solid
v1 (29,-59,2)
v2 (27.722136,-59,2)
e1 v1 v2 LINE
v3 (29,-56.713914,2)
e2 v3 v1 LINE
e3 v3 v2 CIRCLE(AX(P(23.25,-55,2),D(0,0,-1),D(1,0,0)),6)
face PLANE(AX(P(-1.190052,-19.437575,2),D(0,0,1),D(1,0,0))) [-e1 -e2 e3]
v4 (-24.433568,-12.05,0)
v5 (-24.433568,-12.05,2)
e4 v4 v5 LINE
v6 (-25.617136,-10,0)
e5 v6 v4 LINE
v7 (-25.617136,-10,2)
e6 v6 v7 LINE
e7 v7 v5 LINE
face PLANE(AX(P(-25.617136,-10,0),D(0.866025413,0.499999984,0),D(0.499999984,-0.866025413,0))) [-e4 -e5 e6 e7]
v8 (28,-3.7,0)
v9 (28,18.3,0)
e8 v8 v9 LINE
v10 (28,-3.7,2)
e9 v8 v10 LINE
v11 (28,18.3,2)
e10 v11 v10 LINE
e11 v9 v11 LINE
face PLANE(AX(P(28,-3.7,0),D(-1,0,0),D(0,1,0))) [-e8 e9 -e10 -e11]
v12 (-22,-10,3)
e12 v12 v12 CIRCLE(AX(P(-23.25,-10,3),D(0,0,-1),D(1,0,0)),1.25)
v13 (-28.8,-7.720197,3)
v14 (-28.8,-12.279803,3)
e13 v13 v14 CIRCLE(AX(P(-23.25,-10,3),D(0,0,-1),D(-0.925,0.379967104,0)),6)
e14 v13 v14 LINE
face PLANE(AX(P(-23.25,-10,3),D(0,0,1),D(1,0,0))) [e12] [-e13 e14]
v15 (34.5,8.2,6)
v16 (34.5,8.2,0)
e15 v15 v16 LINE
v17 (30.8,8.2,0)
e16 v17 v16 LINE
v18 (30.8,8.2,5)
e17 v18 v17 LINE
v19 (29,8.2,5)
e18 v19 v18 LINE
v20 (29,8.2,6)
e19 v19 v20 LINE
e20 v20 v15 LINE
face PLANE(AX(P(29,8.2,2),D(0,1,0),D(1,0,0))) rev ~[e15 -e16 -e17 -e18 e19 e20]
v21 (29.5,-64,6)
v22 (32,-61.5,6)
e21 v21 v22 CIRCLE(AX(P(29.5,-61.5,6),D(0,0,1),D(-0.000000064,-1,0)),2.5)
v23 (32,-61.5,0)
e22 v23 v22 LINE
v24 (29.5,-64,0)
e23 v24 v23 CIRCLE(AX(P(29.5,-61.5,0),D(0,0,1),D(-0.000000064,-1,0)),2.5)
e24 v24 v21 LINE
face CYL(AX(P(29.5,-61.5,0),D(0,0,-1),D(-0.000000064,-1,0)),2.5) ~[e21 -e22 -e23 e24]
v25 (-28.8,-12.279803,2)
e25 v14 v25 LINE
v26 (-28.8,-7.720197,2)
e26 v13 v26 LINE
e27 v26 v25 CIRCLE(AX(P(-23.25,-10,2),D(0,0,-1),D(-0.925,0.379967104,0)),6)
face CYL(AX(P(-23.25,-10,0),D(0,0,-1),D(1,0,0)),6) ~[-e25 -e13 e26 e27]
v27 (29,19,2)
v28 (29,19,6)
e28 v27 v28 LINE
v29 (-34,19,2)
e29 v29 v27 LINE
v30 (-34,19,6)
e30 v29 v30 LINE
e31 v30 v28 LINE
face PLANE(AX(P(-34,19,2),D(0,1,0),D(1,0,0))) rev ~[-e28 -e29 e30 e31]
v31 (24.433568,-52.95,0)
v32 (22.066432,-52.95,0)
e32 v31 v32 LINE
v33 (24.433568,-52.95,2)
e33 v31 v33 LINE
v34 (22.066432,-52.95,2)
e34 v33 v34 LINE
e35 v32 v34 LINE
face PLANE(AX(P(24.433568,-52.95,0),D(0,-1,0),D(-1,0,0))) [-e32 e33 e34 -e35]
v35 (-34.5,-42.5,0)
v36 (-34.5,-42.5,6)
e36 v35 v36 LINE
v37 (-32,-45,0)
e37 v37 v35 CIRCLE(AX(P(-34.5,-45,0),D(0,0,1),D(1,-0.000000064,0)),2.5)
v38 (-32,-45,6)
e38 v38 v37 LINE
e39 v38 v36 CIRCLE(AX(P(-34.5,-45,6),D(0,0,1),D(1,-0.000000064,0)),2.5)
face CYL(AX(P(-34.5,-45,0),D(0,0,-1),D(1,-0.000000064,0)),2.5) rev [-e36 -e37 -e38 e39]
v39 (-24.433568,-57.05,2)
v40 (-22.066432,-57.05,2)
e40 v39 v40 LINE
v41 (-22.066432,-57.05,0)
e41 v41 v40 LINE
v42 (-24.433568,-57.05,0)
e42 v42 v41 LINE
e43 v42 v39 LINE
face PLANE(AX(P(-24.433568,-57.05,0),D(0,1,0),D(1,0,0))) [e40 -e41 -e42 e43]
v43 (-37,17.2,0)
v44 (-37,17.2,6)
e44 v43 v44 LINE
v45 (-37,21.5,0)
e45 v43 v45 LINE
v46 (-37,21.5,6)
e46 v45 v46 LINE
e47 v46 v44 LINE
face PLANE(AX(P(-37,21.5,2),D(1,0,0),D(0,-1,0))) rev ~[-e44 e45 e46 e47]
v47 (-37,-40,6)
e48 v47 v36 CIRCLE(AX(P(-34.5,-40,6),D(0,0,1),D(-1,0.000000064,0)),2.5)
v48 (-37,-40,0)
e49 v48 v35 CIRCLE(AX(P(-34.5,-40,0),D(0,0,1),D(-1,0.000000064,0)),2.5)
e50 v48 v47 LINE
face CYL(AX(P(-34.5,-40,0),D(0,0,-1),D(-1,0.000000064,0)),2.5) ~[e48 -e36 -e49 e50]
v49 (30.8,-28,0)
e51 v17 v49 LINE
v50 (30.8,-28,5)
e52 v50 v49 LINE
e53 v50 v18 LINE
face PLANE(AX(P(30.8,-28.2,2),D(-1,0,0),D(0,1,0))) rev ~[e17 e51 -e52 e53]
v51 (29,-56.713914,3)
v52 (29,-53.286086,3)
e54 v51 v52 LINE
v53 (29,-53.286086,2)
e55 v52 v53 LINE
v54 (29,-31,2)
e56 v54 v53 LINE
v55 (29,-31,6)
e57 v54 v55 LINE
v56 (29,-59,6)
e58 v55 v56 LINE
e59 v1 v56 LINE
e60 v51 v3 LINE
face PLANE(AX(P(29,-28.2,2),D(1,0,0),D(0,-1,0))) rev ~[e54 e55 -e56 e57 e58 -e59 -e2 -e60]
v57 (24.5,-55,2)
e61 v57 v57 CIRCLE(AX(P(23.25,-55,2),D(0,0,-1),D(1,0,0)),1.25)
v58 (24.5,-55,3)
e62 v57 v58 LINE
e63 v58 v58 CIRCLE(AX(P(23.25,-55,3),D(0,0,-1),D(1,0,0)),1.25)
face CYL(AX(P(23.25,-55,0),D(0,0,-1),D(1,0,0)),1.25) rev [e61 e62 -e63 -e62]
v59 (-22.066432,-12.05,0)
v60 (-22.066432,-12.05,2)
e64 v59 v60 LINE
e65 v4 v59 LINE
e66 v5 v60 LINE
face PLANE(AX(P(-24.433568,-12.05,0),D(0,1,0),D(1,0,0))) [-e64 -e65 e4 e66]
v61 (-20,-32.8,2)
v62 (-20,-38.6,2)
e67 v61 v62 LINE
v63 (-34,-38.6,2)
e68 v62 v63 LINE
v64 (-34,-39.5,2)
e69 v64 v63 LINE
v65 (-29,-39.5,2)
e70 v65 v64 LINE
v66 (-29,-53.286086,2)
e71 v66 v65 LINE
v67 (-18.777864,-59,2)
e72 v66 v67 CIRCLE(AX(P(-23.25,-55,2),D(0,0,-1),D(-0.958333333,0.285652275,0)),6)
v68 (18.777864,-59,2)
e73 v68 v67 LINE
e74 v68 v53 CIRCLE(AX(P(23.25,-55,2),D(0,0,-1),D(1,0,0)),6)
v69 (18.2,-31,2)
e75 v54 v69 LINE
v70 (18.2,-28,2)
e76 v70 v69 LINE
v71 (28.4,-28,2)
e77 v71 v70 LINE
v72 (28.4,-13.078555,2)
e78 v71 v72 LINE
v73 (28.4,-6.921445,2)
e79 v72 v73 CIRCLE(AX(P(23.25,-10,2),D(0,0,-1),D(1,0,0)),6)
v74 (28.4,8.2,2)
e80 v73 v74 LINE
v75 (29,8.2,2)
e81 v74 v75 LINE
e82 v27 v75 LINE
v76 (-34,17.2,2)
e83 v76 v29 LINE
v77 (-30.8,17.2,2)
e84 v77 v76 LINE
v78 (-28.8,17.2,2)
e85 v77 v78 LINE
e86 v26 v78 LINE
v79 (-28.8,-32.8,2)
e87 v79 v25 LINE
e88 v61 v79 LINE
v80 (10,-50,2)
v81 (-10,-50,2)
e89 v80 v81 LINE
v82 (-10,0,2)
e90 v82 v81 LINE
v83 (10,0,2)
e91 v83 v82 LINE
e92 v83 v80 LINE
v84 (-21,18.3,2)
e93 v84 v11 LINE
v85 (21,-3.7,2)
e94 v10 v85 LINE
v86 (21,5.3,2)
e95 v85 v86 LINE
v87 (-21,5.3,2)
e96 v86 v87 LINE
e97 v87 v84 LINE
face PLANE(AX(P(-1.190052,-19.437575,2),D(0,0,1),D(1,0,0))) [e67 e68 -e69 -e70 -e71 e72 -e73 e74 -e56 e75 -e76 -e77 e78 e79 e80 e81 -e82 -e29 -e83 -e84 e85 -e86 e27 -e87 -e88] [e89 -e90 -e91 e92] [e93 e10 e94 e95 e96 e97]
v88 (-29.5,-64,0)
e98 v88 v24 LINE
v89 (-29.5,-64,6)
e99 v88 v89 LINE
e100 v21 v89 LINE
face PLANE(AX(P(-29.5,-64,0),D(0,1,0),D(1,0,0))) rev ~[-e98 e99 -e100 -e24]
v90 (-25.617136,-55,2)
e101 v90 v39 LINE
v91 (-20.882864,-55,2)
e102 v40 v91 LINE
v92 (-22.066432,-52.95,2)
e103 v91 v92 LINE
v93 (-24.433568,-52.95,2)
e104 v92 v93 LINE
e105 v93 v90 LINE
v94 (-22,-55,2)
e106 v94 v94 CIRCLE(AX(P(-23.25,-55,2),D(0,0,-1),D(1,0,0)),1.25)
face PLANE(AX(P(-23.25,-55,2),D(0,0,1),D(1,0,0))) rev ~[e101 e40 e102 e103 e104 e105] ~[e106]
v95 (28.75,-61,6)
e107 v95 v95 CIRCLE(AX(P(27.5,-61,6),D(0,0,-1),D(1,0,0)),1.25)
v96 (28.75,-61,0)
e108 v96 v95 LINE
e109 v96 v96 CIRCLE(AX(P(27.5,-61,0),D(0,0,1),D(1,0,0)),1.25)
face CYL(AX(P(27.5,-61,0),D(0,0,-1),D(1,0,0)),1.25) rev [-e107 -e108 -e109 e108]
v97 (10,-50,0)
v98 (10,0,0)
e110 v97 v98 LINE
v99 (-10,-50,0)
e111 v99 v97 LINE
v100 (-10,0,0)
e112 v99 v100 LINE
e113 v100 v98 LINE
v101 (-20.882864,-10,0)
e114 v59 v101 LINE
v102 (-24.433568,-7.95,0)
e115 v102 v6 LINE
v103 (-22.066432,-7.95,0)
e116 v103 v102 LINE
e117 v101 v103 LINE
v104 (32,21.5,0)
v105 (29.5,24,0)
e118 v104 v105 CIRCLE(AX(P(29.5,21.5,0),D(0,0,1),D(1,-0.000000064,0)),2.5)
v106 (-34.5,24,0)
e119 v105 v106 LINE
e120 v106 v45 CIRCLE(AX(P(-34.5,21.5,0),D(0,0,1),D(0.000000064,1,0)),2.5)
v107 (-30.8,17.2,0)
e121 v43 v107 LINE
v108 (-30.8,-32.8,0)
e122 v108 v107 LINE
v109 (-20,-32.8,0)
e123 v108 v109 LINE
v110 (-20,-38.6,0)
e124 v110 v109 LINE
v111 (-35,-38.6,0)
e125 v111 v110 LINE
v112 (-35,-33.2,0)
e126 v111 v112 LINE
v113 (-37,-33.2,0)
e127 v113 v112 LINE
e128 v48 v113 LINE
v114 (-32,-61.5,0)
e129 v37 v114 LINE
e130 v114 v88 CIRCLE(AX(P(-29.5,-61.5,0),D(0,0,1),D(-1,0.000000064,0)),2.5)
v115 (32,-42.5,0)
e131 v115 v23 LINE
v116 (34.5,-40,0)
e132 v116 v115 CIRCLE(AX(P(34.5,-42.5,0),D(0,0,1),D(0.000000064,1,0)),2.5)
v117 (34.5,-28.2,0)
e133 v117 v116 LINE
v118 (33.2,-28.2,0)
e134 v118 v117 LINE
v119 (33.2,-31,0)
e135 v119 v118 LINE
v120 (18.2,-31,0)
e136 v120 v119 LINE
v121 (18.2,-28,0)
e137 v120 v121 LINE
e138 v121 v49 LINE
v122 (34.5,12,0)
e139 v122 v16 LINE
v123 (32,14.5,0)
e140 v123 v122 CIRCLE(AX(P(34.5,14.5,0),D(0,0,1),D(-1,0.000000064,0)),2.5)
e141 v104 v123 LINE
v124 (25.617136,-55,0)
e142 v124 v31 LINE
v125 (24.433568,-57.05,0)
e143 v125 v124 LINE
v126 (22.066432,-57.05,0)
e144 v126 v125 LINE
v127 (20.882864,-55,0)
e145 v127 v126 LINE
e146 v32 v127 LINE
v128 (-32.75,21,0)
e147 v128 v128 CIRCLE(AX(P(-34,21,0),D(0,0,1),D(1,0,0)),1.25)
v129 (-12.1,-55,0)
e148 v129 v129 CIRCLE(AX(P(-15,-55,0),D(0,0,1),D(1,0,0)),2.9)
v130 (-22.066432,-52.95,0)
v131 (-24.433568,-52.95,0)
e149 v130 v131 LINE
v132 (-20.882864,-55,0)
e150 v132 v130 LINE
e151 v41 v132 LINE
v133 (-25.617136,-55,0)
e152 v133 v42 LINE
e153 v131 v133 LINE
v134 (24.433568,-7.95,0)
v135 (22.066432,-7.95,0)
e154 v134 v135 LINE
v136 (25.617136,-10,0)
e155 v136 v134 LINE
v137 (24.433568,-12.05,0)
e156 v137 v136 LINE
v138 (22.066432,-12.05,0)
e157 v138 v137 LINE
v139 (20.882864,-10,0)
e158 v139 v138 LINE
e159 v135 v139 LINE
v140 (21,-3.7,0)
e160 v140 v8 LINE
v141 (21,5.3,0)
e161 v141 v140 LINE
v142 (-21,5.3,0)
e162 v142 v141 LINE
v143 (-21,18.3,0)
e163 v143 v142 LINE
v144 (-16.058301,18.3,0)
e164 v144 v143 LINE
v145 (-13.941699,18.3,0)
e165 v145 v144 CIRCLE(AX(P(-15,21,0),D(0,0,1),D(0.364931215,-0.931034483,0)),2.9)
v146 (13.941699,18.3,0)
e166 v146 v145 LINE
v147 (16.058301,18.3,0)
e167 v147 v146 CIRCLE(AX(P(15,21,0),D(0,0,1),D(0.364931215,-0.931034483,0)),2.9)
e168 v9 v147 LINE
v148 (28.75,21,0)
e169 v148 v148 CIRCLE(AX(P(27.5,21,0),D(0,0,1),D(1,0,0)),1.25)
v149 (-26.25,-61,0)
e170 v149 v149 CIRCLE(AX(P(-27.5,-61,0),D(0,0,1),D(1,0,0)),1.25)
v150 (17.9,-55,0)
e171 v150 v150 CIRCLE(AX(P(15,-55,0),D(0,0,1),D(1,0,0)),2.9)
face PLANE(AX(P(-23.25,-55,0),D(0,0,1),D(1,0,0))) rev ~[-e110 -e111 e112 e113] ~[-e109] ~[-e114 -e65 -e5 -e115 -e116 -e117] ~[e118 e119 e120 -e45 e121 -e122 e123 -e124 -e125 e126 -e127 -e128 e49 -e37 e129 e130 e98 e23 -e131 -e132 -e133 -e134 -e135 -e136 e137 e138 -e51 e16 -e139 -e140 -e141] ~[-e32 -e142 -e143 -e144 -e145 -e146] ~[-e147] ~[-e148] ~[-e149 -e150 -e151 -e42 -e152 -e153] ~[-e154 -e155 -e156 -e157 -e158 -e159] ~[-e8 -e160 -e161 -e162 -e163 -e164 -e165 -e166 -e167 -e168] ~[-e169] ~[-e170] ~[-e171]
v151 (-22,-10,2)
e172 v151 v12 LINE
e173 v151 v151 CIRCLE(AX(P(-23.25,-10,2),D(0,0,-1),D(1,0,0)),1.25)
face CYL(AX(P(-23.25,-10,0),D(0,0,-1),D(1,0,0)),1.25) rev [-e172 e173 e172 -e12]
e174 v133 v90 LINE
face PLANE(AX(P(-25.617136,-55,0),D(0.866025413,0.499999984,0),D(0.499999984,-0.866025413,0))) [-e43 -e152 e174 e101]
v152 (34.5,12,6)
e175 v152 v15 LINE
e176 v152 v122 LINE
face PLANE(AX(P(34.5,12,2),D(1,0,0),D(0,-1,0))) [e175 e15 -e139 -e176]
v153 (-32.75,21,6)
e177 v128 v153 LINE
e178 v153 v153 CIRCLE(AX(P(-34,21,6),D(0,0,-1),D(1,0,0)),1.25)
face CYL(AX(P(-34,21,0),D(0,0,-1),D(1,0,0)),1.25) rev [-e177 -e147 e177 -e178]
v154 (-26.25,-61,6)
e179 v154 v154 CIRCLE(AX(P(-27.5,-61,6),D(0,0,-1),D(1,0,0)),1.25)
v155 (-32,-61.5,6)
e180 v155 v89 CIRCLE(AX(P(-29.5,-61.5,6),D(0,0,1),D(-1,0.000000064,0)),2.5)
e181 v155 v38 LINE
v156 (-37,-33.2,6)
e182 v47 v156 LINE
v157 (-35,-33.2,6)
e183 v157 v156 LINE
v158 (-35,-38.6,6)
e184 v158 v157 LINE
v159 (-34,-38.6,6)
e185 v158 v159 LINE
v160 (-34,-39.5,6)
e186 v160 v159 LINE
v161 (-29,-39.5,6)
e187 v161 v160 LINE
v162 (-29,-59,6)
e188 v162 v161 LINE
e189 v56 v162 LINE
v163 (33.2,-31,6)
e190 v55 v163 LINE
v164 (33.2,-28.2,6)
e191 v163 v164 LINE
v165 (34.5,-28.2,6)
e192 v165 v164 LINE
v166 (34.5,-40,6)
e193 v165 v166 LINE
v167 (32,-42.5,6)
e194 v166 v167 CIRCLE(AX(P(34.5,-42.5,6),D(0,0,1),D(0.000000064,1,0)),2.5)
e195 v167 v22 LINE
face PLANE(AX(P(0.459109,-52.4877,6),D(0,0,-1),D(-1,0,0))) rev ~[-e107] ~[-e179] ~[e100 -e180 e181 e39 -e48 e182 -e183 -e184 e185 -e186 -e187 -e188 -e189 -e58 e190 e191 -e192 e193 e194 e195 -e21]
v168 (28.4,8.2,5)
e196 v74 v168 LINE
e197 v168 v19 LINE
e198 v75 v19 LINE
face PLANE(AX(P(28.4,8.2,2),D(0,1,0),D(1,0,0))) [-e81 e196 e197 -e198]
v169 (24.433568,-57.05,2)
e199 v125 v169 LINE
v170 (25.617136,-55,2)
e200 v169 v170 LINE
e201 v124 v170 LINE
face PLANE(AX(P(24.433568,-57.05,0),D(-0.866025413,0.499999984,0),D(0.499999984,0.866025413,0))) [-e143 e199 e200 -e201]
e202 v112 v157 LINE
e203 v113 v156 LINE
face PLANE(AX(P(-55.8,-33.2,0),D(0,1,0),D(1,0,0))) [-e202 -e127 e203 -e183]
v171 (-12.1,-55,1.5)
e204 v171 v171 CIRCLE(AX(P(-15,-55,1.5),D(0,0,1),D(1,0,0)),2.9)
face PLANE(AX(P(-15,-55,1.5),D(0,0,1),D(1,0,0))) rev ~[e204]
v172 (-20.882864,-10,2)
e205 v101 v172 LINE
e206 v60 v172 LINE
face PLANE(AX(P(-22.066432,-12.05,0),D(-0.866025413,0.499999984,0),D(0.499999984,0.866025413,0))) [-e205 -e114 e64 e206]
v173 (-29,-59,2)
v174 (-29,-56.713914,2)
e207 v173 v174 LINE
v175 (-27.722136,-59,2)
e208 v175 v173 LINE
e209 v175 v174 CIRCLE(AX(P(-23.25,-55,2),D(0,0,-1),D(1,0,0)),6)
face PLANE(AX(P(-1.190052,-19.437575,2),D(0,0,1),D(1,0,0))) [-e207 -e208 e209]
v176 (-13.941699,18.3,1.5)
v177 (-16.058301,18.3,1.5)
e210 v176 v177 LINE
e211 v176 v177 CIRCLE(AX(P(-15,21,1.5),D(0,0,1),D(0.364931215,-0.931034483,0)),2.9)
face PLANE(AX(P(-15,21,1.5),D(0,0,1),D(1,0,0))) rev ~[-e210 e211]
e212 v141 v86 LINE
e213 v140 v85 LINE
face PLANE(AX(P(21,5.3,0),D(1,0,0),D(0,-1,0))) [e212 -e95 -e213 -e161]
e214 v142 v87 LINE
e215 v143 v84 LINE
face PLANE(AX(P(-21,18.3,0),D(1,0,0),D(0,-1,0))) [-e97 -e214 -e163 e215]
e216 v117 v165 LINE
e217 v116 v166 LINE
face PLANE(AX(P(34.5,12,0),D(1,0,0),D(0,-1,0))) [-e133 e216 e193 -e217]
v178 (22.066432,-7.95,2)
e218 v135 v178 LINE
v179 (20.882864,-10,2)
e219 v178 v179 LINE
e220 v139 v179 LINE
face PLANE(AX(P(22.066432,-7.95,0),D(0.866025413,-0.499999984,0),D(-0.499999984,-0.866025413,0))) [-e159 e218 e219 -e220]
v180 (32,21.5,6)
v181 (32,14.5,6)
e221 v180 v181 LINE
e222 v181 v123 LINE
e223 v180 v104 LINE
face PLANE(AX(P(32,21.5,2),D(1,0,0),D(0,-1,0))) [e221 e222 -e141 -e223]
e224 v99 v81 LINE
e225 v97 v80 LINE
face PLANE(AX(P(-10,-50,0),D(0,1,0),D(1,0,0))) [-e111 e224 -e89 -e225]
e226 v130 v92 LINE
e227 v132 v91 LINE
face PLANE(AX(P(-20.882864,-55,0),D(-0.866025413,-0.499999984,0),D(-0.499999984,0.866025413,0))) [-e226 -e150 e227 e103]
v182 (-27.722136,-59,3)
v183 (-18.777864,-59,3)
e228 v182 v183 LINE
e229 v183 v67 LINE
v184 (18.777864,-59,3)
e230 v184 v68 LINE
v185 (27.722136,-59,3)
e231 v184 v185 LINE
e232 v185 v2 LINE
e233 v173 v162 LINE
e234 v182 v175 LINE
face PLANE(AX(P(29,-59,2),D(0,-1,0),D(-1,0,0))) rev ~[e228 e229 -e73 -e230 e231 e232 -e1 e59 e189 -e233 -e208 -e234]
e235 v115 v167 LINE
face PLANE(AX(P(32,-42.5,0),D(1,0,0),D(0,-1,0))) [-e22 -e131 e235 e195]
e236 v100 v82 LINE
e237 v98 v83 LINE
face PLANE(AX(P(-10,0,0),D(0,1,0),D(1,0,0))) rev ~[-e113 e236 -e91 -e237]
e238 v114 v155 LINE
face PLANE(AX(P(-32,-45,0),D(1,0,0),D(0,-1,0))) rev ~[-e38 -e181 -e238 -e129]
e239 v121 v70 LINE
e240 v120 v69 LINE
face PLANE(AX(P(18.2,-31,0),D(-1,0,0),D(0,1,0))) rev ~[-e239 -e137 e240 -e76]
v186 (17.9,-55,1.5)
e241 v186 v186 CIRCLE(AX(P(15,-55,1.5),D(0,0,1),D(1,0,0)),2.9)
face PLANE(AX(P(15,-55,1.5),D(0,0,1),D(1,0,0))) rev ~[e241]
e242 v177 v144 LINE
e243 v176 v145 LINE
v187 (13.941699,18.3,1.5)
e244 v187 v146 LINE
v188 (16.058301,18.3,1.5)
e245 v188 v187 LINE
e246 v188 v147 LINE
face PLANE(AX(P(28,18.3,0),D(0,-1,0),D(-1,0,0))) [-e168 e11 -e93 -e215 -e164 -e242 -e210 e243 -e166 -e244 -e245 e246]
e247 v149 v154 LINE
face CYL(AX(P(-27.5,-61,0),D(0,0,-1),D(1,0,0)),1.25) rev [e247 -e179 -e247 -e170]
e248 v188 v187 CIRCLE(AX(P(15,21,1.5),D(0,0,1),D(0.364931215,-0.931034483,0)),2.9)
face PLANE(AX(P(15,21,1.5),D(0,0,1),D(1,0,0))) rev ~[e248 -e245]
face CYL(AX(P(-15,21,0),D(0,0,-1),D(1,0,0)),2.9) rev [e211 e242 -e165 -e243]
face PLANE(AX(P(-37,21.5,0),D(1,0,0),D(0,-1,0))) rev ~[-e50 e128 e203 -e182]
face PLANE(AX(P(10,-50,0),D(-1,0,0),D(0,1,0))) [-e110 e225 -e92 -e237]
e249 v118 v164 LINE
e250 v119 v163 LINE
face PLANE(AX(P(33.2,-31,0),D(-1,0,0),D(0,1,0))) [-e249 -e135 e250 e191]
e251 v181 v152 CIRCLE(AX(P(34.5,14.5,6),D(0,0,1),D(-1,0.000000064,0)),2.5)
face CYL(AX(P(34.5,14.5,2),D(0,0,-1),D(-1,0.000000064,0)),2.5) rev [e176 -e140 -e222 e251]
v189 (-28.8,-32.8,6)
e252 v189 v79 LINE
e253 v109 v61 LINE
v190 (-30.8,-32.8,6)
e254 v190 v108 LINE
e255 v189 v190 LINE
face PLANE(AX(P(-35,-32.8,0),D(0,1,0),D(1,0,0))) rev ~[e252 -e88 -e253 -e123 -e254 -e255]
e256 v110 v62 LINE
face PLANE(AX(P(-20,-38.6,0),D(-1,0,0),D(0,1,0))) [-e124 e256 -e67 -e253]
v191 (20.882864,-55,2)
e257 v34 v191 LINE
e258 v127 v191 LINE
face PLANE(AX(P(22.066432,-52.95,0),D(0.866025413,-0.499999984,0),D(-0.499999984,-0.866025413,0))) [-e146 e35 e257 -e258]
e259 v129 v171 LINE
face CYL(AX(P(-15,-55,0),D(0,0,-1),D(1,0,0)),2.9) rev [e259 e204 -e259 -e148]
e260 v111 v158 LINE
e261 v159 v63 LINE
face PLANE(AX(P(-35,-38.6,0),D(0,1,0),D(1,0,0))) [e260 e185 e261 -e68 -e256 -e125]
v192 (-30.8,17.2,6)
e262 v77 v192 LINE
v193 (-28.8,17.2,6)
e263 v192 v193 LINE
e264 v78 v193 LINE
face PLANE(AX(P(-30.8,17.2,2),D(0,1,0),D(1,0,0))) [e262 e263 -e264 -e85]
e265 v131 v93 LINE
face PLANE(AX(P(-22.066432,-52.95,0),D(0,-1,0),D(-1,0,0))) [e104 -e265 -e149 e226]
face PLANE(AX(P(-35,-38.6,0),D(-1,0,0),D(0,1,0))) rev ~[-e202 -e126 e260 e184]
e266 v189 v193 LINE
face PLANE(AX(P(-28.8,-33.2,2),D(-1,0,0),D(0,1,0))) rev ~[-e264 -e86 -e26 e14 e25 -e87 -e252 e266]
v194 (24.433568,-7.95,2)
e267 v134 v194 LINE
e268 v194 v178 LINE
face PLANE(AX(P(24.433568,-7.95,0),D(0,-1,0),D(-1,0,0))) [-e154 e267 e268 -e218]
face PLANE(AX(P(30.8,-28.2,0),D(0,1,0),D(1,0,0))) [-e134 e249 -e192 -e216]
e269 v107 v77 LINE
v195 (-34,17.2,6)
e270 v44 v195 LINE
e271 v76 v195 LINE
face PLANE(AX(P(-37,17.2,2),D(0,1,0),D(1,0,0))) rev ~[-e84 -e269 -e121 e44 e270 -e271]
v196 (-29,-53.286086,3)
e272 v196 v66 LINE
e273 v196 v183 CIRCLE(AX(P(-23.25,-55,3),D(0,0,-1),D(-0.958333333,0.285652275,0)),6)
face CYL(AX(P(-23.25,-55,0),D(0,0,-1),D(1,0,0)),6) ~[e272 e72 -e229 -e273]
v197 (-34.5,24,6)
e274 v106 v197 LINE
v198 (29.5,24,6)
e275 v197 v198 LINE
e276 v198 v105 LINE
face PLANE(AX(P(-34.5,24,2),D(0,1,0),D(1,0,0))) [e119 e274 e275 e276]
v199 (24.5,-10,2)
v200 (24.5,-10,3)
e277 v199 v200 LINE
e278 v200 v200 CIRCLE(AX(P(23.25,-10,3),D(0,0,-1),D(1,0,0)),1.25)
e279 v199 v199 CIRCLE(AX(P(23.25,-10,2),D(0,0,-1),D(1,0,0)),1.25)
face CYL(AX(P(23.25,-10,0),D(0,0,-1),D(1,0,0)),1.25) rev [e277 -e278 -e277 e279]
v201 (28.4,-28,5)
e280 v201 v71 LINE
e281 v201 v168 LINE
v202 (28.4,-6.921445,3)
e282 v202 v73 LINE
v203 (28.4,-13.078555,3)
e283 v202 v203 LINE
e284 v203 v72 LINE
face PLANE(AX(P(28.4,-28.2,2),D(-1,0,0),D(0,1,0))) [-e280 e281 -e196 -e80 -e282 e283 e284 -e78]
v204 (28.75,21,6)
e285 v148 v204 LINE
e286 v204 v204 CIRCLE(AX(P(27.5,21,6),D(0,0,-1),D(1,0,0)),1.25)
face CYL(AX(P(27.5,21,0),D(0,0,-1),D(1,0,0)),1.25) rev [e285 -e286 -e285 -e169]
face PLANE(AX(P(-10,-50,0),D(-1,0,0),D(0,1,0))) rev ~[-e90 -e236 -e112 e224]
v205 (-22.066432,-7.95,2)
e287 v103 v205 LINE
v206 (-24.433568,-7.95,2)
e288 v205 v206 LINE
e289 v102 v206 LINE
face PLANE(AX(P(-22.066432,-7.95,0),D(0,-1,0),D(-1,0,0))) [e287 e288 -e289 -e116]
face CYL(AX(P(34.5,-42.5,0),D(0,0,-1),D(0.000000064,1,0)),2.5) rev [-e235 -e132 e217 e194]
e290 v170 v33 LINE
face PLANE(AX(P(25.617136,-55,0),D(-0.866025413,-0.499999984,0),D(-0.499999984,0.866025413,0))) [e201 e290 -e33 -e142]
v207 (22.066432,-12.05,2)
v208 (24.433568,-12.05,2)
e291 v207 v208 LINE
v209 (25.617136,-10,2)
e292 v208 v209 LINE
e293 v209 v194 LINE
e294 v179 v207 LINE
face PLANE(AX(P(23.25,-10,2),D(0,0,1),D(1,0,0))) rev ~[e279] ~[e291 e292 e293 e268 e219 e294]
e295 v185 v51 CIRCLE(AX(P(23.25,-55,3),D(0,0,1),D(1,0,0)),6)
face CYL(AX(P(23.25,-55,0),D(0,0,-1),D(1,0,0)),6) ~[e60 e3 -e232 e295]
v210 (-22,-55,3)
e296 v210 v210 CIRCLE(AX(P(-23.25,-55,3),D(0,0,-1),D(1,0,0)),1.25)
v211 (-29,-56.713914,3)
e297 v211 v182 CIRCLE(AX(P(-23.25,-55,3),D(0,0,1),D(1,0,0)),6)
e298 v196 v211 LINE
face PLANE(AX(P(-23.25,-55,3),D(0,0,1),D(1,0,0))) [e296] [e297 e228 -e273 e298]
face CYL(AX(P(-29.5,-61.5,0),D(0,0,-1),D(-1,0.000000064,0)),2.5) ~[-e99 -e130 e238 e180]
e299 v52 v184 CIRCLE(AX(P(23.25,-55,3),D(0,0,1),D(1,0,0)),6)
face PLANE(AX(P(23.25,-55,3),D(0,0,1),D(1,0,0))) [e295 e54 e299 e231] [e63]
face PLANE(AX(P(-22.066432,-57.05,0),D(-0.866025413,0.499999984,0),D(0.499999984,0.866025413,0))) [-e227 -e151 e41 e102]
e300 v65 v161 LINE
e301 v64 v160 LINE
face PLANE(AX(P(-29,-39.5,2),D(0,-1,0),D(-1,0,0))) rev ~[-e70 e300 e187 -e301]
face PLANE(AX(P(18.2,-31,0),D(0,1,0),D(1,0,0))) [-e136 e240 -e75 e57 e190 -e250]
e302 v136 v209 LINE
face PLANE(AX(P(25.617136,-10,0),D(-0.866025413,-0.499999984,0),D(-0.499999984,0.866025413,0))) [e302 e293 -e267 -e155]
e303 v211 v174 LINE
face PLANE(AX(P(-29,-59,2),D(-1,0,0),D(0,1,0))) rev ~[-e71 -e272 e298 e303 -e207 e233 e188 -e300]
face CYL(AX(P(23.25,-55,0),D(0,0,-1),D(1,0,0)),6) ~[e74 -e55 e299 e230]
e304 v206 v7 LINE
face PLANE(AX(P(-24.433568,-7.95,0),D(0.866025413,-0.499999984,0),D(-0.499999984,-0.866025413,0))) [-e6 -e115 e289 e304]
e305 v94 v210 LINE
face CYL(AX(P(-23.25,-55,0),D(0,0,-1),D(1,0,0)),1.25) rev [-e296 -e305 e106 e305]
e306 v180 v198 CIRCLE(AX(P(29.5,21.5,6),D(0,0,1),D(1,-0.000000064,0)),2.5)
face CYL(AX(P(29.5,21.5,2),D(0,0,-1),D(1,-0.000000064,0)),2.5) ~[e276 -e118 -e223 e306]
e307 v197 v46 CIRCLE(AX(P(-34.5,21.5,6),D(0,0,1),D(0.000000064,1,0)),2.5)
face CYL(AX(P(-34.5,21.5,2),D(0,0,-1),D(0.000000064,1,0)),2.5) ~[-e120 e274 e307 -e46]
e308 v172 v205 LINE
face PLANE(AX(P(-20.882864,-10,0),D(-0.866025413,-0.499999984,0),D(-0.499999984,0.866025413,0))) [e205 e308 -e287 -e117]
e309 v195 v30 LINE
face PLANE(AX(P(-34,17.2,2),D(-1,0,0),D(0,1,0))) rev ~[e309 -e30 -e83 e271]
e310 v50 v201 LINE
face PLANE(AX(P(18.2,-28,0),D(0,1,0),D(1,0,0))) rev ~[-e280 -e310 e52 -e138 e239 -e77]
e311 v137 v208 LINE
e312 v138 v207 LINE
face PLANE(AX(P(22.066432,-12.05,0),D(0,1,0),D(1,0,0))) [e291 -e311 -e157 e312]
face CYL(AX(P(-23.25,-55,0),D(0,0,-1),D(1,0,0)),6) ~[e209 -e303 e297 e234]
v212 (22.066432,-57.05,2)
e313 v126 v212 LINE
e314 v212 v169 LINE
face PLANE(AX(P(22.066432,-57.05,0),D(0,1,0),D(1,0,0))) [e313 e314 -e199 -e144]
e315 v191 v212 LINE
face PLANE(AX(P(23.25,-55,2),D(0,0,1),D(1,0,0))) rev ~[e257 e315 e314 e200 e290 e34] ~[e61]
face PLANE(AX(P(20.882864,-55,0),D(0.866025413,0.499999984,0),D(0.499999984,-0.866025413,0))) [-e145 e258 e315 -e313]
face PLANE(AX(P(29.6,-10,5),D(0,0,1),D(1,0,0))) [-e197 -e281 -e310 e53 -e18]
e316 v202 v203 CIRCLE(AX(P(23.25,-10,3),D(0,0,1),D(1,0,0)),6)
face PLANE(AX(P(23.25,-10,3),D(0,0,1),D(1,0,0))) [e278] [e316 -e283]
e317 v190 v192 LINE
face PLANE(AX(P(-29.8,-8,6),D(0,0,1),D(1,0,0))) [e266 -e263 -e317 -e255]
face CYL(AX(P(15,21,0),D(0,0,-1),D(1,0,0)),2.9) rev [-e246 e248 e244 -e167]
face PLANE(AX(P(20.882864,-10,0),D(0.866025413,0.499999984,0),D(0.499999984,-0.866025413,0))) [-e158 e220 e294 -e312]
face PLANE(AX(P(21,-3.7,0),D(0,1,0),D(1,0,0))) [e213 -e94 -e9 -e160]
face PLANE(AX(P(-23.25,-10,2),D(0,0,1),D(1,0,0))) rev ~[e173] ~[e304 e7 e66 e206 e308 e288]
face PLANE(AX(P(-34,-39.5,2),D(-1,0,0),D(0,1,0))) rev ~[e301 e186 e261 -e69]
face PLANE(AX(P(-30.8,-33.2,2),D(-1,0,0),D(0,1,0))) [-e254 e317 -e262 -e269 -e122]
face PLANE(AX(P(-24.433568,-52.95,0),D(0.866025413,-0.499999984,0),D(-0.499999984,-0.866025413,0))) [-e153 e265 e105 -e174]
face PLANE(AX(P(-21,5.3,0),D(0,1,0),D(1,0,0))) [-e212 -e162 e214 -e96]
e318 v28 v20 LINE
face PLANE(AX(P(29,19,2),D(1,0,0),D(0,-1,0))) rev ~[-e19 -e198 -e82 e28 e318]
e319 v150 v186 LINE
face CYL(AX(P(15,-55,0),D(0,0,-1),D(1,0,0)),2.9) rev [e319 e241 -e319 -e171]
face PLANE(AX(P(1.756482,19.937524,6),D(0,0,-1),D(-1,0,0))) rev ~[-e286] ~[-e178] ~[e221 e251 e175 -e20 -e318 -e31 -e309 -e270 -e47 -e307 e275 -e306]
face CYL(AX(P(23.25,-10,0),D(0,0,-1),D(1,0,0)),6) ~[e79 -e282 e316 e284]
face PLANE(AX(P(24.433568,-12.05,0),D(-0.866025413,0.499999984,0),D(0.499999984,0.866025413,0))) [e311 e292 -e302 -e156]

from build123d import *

# Parameters (mm, degrees)
PAD_DEPTH            = 2
SKETCH002_R          = 6
PAD002_DEPTH         = 3
POCKET_DEPTH         = 3.001
SKETCH005_R          = 1.25
POCKET001_DEPTH      = 0.001
POCKET001_DEPTH_BACK = 3.001
POCKET002_DEPTH      = 2
SKETCH012_W          = 25
SKETCH012_H          = 50.4
SKETCH012_H_2        = 36.4
POCKET006_DEPTH      = 0.001
POCKET006_DEPTH_BACK = 3.001
SKETCH014_W          = 2
SKETCH014_H          = 50.4
PAD006_DEPTH         = 4
SKETCH015_W          = 2.4
SKETCH015_H          = 36.4
PAD007_DEPTH         = 3
SKETCH018_R          = 2.9
POCKET008_DEPTH      = 1.5
PAD010_DEPTH         = 4
SKETCH024_R          = 1.25
POCKET010_DEPTH      = 0.001
POCKET010_DEPTH_BACK = 6.001
SKETCH032_W          = 20
SKETCH032_H          = 50
POCKET016_DEPTH      = 0.001
POCKET016_DEPTH_BACK = 6.001
SKETCH041_W          = 15
SKETCH041_H          = 5.8
SKETCH041_H_2        = 3
POCKET020_DEPTH      = 0.001
POCKET020_DEPTH_BACK = 6.001


with BuildPart() as part:
    # Sketch → Pad (new body)
    with BuildSketch(Plane.XY):
        with BuildLine():
            Line((-29.5, -64), (29.5, -64))
            ThreePointArc((29.5, -64), (31.267767, -63.267767), (32, -61.5))
            Line((32, -42.5), (32, -61.5))
            ThreePointArc((34.5, -40), (32.732233, -40.732233), (32, -42.5))
            Line((34.5, 12), (34.5, -40))
            ThreePointArc((32, 14.5), (32.732233, 12.732233), (34.5, 12))
            Line((32, 21.5), (32, 14.5))
            ThreePointArc((32, 21.5), (31.267767, 23.267767), (29.5, 24))
            Line((29.5, 24), (-34.5, 24))
            ThreePointArc((-34.5, 24), (-36.267767, 23.267767), (-37, 21.5))
            Line((-37, 21.5), (-37, -40))
            ThreePointArc((-37, -40), (-36.267767, -41.767767), (-34.5, -42.5))
            ThreePointArc((-32, -45), (-32.732233, -43.232233), (-34.5, -42.5))
            Line((-32, -45), (-32, -61.5))
            ThreePointArc((-32, -61.5), (-31.267767, -63.267767), (-29.5, -64))
        make_face()
    extrude(amount=PAD_DEPTH)

    # Sketch002 → Pad002 (join)
    with BuildSketch(Plane.XY):
        with Locations((-23.25, -55)):
            Circle(SKETCH002_R)
        with Locations((23.25, -55)):
            Circle(SKETCH002_R)
        with Locations((-23.25, -10)):
            Circle(SKETCH002_R)
        with Locations((23.25, -10)):
            Circle(SKETCH002_R)
    extrude(amount=PAD002_DEPTH)

    # Sketch004 → Pocket (cut, through all)
    with BuildSketch(Plane.XY):
        Polygon((-21, 18.3), (-21, 5.3), (21, 5.3), (21, -3.7), (28, -3.7), (28, 18.3), align=None)
    extrude(amount=POCKET_DEPTH, mode=Mode.SUBTRACT)

    # Sketch005 → Pocket001 (cut, two sides)
    with BuildSketch(Plane.XY) as pocket001_sk:
        with Locations((-23.25, -10)):
            Circle(SKETCH005_R)
        with Locations((23.25, -10)):
            Circle(SKETCH005_R)
        with Locations((-23.25, -55)):
            Circle(SKETCH005_R)
        with Locations((23.25, -55)):
            Circle(SKETCH005_R)
    extrude(amount=-POCKET001_DEPTH, mode=Mode.SUBTRACT)
    extrude(pocket001_sk.sketch, amount=POCKET001_DEPTH_BACK, mode=Mode.SUBTRACT)

    # Sketch003 → Pocket002 (cut)
    with BuildSketch(Plane.XY):
        Polygon((-20.882864, -10), (-22.066432, -7.95), (-24.433568, -7.95), (-25.617136, -10), (-24.433568, -12.05), (-22.066432, -12.05), align=None)
        Polygon((25.617136, -10), (24.433568, -7.95), (22.066432, -7.95), (20.882864, -10), (22.066432, -12.05), (24.433568, -12.05), align=None)
        Polygon((-22.066432, -52.95), (-24.433568, -52.95), (-25.617136, -55), (-24.433568, -57.05), (-22.066432, -57.05), (-20.882864, -55), align=None)
        Polygon((24.433568, -52.95), (22.066432, -52.95), (20.882864, -55), (22.066432, -57.05), (24.433568, -57.05), (25.617136, -55), align=None)
    extrude(amount=POCKET002_DEPTH, mode=Mode.SUBTRACT)

    # Sketch012 → Pocket006 (cut, two sides)
    with BuildSketch(Plane.XY) as pocket006_sk:
        with Locations((-43.3, -8)):
            Rectangle(SKETCH012_W, SKETCH012_H)
        with Locations((43.3, -10)):
            Rectangle(SKETCH012_W, SKETCH012_H_2)
    extrude(amount=-POCKET006_DEPTH, mode=Mode.SUBTRACT)
    extrude(pocket006_sk.sketch, amount=POCKET006_DEPTH_BACK, mode=Mode.SUBTRACT)

    # Sketch014 (on Face5 of Pocket006) → Pad006 (join)
    with BuildSketch(Plane.XY.offset(2)):
        with Locations((-29.8, -8)):
            Rectangle(SKETCH014_W, SKETCH014_H)
    extrude(amount=PAD006_DEPTH)

    # Sketch015 (on Face5 of Pocket006) → Pad007 (join)
    with BuildSketch(Plane.XY.offset(2)):
        with Locations((29.6, -10)):
            Rectangle(SKETCH015_W, SKETCH015_H)
    extrude(amount=PAD007_DEPTH)

    # Sketch018 → Pocket008 (cut)
    with BuildSketch(Plane.XY):
        with Locations((-15, 21)):
            Circle(SKETCH018_R)
        with Locations((15, 21)):
            Circle(SKETCH018_R)
        with Locations((-15, -55)):
            Circle(SKETCH018_R)
        with Locations((15, -55)):
            Circle(SKETCH018_R)
    extrude(amount=POCKET008_DEPTH, mode=Mode.SUBTRACT)

    # Sketch020 (on Face5 of Pocket008) → Pad010 (join)
    with BuildSketch(Plane.XY.offset(2)):
        with BuildLine():
            Line((-34.5, 24), (29.5, 24))
            ThreePointArc((32, 21.5), (31.267767, 23.267767), (29.5, 24))
            Line((32, 21.5), (32, 14.5))
            ThreePointArc((32, 14.5), (32.732233, 12.732233), (34.5, 12))
            Line((34.5, 12), (34.5, 8.2))
            Line((29, 8.2), (34.5, 8.2))
            Line((29, 19), (29, 8.2))
            Line((-34, 19), (29, 19))
            Line((-34, 17.2), (-34, 19))
            Line((-37, 17.2), (-34, 17.2))
            Line((-37, 21.5), (-37, 17.2))
            ThreePointArc((-34.5, 24), (-36.267767, 23.267767), (-37, 21.5))
        make_face()
        with BuildLine():
            Line((34.5, -28.2), (34.5, -40))
            ThreePointArc((34.5, -40), (32.732233, -40.732233), (32, -42.5))
            Line((32, -42.5), (32, -61.5))
            ThreePointArc((29.5, -64), (31.267767, -63.267767), (32, -61.5))
            Line((29.5, -64), (-29.5, -64))
            ThreePointArc((-32, -61.5), (-31.267767, -63.267767), (-29.5, -64))
            Line((-32, -61.5), (-32, -45))
            ThreePointArc((-32, -45), (-32.732233, -43.232233), (-34.5, -42.5))
            ThreePointArc((-37, -40), (-36.267767, -41.767767), (-34.5, -42.5))
            Line((-37, -40), (-37, -33.2))
            Line((-34, -33.2), (-37, -33.2))
            Line((-34, -39.5), (-34, -33.2))
            Line((-29, -39.5), (-34, -39.5))
            Line((-29, -59), (-29, -39.5))
            Line((29, -59), (-29, -59))
            Line((29, -28.2), (29, -59))
            Line((34.5, -28.2), (29, -28.2))
        make_face()
    extrude(amount=PAD010_DEPTH)

    # Sketch024 → Pocket010 (cut, two sides)
    with BuildSketch(Plane.XY) as pocket010_sk:
        with Locations((-34, 21)):
            Circle(SKETCH024_R)
        with Locations((27.5, 21)):
            Circle(SKETCH024_R)
        with Locations((27.5, -61)):
            Circle(SKETCH024_R)
        with Locations((-27.5, -61)):
            Circle(SKETCH024_R)
    extrude(amount=-POCKET010_DEPTH, mode=Mode.SUBTRACT)
    extrude(pocket010_sk.sketch, amount=POCKET010_DEPTH_BACK, mode=Mode.SUBTRACT)

    # Sketch032 → Pocket016 (cut, two sides)
    with BuildSketch(Plane.XY) as pocket016_sk:
        with Locations((0, -25)):
            Rectangle(SKETCH032_W, SKETCH032_H)
    extrude(amount=-POCKET016_DEPTH, mode=Mode.SUBTRACT)
    extrude(pocket016_sk.sketch, amount=POCKET016_DEPTH_BACK, mode=Mode.SUBTRACT)

    # Sketch041 → Pocket020 (cut, two sides)
    with BuildSketch(Plane.XY) as pocket020_sk:
        with Locations((-27.5, -35.7)):
            Rectangle(SKETCH041_W, SKETCH041_H)
        with Locations((25.7, -29.5)):
            Rectangle(SKETCH041_W, SKETCH041_H_2)
    extrude(amount=-POCKET020_DEPTH, mode=Mode.SUBTRACT)
    extrude(pocket020_sk.sketch, amount=POCKET020_DEPTH_BACK, mode=Mode.SUBTRACT)


solid = part.part
